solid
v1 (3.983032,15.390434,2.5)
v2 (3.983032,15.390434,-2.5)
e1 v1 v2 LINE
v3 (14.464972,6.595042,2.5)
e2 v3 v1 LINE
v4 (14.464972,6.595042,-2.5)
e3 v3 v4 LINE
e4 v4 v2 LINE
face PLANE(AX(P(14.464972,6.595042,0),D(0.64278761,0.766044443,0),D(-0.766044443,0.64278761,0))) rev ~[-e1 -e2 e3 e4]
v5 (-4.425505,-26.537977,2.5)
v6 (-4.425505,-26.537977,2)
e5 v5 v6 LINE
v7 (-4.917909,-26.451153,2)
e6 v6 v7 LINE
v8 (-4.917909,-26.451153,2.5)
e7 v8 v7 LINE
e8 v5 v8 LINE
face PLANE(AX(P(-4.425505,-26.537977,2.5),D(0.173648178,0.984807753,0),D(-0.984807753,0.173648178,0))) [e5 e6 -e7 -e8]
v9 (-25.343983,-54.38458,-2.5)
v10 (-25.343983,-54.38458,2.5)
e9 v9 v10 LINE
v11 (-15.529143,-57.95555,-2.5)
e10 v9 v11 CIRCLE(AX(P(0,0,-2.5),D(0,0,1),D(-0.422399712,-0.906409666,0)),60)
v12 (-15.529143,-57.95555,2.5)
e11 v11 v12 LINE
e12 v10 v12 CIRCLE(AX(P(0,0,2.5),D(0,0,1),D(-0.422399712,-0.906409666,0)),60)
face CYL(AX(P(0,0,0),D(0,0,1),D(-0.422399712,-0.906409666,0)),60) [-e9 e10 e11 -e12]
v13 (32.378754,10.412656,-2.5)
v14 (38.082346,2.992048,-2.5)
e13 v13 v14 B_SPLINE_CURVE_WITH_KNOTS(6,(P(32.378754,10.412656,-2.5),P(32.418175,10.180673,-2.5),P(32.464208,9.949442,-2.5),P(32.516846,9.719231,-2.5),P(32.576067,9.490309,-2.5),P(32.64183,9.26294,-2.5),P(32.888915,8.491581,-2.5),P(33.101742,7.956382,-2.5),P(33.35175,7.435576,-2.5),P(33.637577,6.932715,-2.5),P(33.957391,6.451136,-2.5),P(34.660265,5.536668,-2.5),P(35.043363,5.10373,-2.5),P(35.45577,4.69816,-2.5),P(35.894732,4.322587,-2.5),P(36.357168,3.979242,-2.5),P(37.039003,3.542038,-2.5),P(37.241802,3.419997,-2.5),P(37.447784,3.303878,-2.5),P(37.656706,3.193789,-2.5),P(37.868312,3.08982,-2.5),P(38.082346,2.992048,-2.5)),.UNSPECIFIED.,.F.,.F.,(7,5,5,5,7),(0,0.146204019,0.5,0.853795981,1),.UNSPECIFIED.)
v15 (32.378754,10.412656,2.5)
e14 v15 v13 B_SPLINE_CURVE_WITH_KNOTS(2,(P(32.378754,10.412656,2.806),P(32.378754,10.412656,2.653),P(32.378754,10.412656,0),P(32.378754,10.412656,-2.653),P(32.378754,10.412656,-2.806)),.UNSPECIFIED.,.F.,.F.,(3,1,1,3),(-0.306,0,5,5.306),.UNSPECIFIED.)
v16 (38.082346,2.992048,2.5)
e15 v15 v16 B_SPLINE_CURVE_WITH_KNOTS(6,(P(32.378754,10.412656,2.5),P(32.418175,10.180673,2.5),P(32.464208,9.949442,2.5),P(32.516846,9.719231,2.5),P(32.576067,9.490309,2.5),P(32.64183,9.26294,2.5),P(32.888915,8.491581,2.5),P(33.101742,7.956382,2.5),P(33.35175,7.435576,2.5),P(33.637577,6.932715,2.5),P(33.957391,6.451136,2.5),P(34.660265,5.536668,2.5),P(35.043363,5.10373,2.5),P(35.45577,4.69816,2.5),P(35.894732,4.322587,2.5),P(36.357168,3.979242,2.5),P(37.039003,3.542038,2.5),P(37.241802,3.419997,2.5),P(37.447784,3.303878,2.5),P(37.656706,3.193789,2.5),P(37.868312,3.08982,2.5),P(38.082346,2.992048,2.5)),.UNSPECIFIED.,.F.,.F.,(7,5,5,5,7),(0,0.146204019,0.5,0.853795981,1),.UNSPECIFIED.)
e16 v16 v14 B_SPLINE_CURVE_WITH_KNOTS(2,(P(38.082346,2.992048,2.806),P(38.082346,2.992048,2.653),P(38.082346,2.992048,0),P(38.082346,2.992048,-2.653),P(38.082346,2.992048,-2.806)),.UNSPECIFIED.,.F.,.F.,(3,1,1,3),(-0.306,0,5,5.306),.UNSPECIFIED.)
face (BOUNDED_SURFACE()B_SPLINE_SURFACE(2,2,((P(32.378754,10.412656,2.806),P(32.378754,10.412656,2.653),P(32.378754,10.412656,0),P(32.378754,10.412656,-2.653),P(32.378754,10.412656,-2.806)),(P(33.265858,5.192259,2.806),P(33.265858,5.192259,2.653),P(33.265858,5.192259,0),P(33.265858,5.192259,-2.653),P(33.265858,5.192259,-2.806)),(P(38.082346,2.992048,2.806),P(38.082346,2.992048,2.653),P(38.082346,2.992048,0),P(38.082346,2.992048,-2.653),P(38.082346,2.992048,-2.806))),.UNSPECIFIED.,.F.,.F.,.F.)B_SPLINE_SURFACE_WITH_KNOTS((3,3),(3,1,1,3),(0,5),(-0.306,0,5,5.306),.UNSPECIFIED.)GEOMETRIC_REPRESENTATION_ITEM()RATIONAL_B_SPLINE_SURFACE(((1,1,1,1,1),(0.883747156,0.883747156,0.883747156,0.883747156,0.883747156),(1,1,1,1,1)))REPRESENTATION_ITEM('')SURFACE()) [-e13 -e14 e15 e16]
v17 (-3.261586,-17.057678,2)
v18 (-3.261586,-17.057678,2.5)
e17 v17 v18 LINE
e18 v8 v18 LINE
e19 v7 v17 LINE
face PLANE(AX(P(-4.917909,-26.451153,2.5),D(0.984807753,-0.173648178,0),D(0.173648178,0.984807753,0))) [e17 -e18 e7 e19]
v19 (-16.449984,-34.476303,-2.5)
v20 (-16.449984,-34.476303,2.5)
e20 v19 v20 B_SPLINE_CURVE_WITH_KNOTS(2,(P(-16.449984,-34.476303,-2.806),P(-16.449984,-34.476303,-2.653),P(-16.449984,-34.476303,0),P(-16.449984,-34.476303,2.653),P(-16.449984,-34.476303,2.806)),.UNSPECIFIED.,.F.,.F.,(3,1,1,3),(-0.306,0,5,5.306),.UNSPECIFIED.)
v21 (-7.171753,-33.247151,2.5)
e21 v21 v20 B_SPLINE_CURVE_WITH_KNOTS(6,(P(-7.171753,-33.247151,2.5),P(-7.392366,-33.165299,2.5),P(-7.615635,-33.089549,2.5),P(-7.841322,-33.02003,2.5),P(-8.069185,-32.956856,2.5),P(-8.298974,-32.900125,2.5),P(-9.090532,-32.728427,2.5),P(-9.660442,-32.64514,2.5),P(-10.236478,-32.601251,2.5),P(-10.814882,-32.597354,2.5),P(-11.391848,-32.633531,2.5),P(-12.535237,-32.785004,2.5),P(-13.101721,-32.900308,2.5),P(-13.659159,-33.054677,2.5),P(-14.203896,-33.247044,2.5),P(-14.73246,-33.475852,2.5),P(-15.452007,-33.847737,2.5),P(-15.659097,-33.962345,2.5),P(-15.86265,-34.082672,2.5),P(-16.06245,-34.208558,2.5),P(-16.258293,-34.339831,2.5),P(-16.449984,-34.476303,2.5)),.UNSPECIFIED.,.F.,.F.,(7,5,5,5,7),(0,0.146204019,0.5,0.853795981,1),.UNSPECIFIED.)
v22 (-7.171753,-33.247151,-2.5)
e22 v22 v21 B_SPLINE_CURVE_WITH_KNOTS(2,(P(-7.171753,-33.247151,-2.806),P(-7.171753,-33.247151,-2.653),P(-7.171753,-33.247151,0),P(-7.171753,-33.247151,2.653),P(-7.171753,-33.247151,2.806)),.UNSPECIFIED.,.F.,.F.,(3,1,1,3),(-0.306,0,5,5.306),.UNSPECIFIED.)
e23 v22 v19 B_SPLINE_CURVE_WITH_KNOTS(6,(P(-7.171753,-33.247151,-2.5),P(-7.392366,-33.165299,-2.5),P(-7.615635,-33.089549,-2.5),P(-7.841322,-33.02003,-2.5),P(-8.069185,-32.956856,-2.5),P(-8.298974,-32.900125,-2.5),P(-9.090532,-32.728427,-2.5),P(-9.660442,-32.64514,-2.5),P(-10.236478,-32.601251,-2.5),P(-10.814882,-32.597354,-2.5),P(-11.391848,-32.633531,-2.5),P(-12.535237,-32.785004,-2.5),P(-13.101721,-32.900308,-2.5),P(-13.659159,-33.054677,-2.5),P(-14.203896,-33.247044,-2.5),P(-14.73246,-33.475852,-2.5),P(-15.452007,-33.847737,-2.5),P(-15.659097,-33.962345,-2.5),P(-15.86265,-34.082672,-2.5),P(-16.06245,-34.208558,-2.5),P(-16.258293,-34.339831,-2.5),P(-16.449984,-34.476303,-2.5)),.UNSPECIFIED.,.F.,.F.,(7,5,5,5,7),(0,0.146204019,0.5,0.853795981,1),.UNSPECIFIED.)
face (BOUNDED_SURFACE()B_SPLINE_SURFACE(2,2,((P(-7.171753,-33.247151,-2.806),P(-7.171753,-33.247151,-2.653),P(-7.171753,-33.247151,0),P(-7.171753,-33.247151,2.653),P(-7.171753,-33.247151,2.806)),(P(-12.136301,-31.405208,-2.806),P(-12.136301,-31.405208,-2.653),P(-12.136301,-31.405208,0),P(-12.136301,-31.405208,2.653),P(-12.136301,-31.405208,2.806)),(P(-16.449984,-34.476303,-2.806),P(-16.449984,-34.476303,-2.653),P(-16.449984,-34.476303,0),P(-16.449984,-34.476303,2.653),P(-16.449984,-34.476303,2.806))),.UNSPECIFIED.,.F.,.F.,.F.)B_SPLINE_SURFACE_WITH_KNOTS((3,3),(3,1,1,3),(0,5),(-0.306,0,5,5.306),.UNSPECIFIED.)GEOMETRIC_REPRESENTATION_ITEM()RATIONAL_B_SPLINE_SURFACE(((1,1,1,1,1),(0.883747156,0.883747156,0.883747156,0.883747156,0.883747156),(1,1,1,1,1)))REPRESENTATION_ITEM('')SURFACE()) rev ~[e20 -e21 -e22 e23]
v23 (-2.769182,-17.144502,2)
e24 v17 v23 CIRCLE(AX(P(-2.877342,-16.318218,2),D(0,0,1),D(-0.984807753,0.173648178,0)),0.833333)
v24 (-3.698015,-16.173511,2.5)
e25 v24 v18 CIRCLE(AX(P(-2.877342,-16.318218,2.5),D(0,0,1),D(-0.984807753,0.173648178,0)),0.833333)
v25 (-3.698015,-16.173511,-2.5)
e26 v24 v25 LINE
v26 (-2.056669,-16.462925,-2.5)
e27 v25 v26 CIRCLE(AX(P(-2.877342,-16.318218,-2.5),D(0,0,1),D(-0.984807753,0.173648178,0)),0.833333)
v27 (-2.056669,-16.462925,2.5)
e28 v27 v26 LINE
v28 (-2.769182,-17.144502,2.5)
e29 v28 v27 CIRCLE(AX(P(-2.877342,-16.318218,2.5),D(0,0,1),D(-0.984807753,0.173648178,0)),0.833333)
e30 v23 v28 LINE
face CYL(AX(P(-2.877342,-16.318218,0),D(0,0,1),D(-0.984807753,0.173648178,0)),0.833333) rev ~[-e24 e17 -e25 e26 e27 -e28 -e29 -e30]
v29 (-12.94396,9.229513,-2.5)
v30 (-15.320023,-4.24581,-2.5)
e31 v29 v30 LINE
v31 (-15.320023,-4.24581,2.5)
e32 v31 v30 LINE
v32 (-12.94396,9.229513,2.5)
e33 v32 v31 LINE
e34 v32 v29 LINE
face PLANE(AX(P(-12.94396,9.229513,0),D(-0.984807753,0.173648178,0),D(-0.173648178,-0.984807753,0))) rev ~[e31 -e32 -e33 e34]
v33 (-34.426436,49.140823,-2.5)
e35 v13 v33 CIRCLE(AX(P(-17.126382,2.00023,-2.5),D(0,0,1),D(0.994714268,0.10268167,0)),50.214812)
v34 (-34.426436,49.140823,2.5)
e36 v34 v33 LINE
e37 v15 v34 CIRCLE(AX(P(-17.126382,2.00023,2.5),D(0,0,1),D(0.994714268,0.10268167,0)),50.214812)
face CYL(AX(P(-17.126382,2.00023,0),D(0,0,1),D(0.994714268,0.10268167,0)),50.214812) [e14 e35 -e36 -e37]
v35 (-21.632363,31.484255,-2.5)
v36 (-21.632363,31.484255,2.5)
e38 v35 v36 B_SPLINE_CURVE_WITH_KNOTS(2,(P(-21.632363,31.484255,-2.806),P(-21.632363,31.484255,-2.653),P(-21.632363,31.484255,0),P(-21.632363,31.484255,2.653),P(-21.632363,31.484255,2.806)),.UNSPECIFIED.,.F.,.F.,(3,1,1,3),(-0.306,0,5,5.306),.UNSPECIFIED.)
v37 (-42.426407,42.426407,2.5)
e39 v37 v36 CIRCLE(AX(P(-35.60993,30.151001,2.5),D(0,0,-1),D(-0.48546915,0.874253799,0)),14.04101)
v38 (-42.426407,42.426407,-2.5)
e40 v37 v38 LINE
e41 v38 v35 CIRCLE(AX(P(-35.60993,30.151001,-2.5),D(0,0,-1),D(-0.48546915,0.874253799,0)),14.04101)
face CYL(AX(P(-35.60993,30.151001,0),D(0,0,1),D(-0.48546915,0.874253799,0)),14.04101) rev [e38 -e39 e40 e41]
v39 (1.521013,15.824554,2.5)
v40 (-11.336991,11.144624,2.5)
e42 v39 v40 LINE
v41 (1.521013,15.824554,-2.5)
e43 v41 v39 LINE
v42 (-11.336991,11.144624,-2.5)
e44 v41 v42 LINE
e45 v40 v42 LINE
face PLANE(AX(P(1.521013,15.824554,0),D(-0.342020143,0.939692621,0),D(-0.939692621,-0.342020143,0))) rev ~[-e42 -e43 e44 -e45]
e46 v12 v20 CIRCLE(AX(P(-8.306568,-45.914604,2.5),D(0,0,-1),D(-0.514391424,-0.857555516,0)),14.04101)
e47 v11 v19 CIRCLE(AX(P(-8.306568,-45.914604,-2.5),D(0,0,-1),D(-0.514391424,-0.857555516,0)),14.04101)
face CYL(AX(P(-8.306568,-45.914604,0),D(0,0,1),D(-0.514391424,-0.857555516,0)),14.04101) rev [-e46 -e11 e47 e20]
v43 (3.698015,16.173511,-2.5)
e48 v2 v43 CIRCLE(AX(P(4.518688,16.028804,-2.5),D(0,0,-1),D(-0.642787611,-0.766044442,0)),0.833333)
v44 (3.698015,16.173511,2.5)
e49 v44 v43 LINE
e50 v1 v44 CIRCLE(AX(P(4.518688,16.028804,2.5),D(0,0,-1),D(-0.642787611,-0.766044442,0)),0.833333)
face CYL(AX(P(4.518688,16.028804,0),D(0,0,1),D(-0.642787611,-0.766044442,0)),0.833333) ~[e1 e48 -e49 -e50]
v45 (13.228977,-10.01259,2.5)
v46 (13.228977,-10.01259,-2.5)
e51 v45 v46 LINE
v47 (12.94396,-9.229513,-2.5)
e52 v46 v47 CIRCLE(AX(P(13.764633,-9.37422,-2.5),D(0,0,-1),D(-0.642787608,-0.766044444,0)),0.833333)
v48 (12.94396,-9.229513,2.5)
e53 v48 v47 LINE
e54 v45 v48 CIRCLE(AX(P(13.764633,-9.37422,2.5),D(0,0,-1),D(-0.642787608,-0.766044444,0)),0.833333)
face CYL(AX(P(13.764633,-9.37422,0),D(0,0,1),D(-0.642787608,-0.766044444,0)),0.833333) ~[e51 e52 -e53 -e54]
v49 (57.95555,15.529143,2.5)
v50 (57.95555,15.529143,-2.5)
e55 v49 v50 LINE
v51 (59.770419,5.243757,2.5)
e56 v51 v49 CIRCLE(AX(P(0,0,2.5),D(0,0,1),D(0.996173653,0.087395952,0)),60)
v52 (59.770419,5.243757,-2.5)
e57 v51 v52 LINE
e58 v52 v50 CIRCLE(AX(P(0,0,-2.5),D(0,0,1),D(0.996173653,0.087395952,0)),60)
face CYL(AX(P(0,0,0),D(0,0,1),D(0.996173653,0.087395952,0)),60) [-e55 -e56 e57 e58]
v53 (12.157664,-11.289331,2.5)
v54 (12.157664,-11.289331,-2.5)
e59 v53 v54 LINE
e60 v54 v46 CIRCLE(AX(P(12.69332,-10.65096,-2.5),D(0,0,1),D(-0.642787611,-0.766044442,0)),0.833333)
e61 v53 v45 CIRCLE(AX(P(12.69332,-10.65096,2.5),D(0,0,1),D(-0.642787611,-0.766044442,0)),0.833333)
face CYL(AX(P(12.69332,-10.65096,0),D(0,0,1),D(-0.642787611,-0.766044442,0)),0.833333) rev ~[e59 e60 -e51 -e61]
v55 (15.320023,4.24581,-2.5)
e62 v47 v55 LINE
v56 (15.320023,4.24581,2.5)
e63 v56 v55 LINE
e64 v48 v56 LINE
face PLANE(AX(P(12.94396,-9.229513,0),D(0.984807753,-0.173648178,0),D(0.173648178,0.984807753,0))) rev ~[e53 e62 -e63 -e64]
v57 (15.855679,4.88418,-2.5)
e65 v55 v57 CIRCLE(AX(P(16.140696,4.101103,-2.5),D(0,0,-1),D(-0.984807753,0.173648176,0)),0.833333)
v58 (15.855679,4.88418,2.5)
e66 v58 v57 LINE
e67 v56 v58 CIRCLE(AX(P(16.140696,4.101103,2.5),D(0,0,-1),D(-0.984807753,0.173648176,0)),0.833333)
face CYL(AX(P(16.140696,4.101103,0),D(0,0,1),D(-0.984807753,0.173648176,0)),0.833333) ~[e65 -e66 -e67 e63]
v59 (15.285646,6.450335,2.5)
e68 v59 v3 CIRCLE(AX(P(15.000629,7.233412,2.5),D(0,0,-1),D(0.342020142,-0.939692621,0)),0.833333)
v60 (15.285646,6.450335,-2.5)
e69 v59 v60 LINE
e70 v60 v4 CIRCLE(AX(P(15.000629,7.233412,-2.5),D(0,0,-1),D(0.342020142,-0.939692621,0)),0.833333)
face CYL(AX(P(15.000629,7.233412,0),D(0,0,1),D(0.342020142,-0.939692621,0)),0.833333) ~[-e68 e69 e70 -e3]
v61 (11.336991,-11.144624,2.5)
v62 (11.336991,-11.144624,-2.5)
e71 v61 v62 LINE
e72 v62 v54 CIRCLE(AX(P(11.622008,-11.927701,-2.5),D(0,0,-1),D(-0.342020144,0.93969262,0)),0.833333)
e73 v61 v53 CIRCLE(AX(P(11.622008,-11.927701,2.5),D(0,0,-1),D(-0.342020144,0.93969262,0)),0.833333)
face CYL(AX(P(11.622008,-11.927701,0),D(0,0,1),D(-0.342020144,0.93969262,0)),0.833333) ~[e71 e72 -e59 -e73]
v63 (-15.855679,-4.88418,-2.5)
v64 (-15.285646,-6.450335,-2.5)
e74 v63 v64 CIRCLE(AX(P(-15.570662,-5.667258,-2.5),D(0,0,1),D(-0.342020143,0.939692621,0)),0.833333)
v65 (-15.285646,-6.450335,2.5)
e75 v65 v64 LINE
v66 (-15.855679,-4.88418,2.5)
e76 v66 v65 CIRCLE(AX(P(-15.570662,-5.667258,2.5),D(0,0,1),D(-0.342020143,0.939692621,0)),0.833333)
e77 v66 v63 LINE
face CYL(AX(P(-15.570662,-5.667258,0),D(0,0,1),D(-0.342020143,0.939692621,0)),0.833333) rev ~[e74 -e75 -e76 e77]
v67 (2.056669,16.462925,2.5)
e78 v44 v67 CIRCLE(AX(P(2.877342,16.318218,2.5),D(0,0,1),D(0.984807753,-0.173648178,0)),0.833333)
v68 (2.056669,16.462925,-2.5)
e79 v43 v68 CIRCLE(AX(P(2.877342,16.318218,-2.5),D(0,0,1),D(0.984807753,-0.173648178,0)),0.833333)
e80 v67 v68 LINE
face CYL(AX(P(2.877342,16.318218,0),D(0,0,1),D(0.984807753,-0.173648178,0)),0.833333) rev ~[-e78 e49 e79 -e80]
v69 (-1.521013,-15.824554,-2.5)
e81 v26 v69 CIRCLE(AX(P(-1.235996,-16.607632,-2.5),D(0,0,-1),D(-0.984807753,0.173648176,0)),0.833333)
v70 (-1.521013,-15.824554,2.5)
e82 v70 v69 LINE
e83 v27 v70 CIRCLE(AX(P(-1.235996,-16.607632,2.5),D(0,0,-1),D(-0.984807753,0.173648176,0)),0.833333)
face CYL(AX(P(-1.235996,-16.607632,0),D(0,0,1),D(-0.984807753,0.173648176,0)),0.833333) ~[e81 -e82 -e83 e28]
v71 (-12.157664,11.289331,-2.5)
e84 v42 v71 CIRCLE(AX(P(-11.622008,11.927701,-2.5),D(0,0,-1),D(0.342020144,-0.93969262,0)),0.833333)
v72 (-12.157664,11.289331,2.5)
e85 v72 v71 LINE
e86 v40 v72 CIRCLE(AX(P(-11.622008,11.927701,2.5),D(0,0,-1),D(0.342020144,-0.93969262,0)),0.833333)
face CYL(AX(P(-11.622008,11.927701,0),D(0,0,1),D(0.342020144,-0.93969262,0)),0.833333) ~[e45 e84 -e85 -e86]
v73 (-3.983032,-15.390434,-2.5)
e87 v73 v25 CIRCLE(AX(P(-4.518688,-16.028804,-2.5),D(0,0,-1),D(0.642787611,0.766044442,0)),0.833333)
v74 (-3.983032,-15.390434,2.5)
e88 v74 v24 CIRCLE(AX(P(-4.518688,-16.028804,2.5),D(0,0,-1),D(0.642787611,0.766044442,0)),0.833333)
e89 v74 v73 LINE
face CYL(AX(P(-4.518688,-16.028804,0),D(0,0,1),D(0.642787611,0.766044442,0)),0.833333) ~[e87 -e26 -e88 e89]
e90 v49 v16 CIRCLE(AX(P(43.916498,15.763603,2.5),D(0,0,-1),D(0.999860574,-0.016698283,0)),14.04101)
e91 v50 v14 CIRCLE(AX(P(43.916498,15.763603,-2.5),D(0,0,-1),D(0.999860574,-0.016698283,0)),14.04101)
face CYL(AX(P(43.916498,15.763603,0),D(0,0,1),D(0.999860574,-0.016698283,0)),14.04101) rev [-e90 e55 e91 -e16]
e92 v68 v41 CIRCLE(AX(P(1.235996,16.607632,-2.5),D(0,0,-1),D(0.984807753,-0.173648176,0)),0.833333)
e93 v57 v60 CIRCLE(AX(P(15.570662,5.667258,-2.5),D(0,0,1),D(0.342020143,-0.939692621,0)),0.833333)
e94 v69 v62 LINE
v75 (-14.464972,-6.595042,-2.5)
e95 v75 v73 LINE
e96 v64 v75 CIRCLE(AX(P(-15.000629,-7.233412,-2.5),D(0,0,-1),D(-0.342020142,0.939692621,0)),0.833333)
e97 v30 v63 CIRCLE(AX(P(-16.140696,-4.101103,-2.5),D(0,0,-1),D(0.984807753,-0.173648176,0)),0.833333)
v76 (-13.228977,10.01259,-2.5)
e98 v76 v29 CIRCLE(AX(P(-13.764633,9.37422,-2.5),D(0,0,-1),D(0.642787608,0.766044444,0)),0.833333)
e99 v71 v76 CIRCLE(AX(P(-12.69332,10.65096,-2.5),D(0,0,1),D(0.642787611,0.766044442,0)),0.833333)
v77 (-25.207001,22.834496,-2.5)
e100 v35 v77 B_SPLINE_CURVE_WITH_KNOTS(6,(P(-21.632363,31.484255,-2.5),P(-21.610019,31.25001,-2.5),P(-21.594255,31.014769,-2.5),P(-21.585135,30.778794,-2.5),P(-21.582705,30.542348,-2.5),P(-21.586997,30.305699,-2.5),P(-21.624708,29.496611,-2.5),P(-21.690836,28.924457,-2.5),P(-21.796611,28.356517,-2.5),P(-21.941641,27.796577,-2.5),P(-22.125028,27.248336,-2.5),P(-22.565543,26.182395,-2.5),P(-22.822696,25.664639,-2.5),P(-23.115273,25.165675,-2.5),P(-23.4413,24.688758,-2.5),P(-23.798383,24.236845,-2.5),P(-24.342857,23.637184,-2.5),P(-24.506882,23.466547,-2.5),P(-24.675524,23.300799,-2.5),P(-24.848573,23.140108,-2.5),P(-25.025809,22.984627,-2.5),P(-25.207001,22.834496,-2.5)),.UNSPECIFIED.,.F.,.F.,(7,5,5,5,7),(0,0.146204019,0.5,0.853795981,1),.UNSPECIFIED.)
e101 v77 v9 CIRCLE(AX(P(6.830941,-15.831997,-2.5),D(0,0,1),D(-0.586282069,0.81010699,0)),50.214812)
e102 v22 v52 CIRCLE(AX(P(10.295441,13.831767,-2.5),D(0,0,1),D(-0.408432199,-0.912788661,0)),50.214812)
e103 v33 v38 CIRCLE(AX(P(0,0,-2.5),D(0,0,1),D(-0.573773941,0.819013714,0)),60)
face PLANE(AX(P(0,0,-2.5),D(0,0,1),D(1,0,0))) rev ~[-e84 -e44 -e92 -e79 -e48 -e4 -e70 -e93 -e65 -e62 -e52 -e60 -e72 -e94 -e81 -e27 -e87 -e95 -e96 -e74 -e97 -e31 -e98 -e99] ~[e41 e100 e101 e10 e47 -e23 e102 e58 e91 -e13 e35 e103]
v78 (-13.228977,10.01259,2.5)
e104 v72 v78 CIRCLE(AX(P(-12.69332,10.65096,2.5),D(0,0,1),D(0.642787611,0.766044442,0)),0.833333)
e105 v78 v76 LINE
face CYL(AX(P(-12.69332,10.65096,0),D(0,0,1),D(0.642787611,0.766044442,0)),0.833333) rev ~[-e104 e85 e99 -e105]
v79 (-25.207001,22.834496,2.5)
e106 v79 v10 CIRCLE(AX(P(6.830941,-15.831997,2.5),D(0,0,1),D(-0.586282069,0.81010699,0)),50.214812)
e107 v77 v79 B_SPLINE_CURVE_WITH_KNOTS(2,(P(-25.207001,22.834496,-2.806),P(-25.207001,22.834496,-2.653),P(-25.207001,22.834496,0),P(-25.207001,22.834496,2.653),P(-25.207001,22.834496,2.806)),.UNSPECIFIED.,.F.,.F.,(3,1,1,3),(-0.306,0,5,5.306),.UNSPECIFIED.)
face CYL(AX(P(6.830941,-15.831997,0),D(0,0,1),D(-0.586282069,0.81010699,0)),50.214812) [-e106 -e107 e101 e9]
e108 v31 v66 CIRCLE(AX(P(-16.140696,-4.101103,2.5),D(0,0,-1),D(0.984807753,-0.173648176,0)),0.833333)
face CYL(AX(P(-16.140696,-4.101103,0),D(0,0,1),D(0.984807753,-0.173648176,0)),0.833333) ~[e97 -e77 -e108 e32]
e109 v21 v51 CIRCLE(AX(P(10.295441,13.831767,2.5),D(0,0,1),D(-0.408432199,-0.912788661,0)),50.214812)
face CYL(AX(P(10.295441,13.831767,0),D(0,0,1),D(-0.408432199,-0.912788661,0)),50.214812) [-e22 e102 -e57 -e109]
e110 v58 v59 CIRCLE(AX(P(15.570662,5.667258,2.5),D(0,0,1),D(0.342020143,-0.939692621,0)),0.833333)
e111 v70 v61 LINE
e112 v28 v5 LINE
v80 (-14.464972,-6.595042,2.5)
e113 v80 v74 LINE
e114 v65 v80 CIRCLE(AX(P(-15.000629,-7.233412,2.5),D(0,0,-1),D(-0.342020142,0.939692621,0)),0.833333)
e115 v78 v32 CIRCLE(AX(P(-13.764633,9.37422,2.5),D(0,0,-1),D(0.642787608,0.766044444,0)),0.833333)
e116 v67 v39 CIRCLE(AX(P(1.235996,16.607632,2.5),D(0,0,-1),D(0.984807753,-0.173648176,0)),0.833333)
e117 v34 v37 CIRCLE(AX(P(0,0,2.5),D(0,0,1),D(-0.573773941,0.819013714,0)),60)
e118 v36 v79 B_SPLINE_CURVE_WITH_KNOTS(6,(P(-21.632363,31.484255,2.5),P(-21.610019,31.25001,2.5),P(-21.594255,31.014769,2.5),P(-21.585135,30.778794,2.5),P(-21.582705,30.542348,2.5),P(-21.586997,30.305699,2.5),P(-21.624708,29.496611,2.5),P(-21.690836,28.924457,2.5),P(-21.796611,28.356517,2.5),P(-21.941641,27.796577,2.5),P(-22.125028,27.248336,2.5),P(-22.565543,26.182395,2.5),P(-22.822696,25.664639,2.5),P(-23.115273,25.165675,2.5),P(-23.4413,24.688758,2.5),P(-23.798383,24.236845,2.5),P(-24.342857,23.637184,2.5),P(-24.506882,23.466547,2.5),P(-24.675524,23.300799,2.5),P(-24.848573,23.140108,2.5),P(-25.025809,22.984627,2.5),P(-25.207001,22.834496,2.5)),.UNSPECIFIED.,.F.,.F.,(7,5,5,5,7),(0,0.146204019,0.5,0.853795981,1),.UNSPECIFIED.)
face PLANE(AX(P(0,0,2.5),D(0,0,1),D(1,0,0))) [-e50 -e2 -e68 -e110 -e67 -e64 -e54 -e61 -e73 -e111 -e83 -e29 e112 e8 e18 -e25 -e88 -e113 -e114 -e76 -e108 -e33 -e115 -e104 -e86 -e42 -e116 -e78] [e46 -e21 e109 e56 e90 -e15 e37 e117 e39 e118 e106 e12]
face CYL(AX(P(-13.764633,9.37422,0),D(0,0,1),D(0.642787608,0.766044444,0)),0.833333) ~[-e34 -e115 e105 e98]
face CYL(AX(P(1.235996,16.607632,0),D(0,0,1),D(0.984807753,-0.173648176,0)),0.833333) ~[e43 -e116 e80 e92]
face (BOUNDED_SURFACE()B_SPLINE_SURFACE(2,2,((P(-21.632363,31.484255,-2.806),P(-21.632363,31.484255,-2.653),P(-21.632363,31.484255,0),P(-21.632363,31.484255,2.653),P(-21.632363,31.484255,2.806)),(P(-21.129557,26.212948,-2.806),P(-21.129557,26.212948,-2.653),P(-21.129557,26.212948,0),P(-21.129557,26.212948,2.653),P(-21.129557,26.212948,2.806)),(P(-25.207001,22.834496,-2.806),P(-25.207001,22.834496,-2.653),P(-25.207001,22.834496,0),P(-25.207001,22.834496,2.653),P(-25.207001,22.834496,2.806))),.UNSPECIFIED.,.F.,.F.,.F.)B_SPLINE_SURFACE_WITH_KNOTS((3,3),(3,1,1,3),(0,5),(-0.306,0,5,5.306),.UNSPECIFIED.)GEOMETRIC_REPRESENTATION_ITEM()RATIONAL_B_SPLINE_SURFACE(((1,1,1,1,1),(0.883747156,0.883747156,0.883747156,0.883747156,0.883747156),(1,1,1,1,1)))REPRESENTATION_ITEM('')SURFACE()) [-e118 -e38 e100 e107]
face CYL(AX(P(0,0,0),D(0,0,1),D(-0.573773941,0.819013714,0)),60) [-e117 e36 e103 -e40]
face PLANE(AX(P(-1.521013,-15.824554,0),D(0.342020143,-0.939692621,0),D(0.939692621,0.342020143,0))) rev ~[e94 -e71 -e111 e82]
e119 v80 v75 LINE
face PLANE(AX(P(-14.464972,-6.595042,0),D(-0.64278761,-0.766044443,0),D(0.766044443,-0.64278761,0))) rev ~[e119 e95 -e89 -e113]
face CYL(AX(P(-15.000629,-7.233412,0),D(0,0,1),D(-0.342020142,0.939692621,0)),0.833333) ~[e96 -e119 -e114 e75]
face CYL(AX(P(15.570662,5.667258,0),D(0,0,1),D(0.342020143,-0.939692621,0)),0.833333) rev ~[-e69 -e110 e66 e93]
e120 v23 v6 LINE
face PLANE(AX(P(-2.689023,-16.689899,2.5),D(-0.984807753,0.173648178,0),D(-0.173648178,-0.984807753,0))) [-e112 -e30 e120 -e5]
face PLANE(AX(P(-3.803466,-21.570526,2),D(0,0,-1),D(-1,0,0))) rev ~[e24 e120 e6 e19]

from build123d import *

# Parameters (mm, degrees)
BOSS_EXTRUDE1_DEPTH = 2.5
FILLET1_R           = 10
CUT_EXTRUDE1_DEPTH  = 0.5


with BuildPart() as part:
    # Sketch1 → Boss-Extrude1 (new, symmetric)
    with BuildSketch(Plane.XY):
        with BuildLine():
            ThreePointArc((-42.426406871, 42.426406871), (-26.29235792, 40.654943242), (-22.609103215, 24.847373735))
            ThreePointArc((-22.609103215, 24.847373735), (-43.353983992, -14.099744614), (-25.343982725, -54.38457998))
            ThreePointArc((-25.343982725, -54.38457998), (-20.514410827, -56.38403097), (-15.529142706, -57.955549577))
            ThreePointArc((-15.529142706, -57.955549577), (-22.062034677, -43.097321505), (-10.213905264, -32.003744609))
            ThreePointArc((-10.213905264, -32.003744609), (33.887729018, -30.495779185), (59.7704192, 5.243757117))
            ThreePointArc((59.7704192, 5.243757117), (59.087208601, 10.426014565), (57.955549577, 15.529142706))
            ThreePointArc((57.955549577, 15.529142706), (48.354392597, 2.442378263), (32.82300848, 7.156370874))
            ThreePointArc((32.82300848, 7.156370874), (9.466254973, 44.595523799), (-34.426436475, 49.140822863))
            ThreePointArc((-34.426436475, 49.140822863), (-38.572797774, 45.958016405), (-42.426406871, 42.426406871))
        make_face()
        with BuildLine():
            Line((1.521012626, 15.824554357), (-11.336990739, 11.14462386))
            ThreePointArc((-11.336990739, 11.14462386), (-11.76671434, 11.107027916), (-12.157663867, 11.289330674))
            ThreePointArc((-12.157663867, 11.289330674), (-13.331690578, 11.186616647), (-13.22897655, 10.012589936))
            ThreePointArc((-13.22897655, 10.012589936), (-12.981555707, 9.659236353), (-12.943959764, 9.229512752))
            Line((-12.943959764, 9.229512752), (-15.320022748, -4.245810053))
            ThreePointArc((-15.320022748, -4.245810053), (-15.502325506, -4.63675958), (-15.855679089, -4.884180422))
            ThreePointArc((-15.855679089, -4.884180422), (-16.353739487, -5.952274392), (-15.285645517, -6.45033479))
            ThreePointArc((-15.285645517, -6.45033479), (-14.855921916, -6.412738847), (-14.46497239, -6.595041605))
            Line((-14.46497239, -6.595041605), (-3.983032008, -15.390433913))
            ThreePointArc((-3.983032008, -15.390433913), (-3.735611166, -15.743787496), (-3.698015222, -16.173511097))
            ThreePointArc((-3.698015222, -16.173511097), (-3.02204891, -17.138891039), (-2.056668967, -16.462924726))
            ThreePointArc((-2.056668967, -16.462924726), (-1.874366209, -16.071975199), (-1.521012626, -15.824554357))
            Line((-1.521012626, -15.824554357), (11.336990739, -11.14462386))
            ThreePointArc((11.336990739, -11.14462386), (11.76671434, -11.107027916), (12.157663867, -11.289330674))
            ThreePointArc((12.157663867, -11.289330674), (13.331690578, -11.186616647), (13.22897655, -10.012589936))
            ThreePointArc((13.22897655, -10.012589936), (12.981555707, -9.659236353), (12.943959764, -9.229512752))
            Line((12.943959764, -9.229512752), (15.320022748, 4.245810053))
            ThreePointArc((15.320022748, 4.245810053), (15.502325506, 4.63675958), (15.855679089, 4.884180422))
            ThreePointArc((15.855679089, 4.884180422), (16.353739487, 5.952274392), (15.285645517, 6.45033479))
            ThreePointArc((15.285645517, 6.45033479), (14.855921916, 6.412738847), (14.46497239, 6.595041605))
            Line((14.46497239, 6.595041605), (3.983032008, 15.390433913))
            ThreePointArc((3.983032008, 15.390433913), (3.735611166, 15.743787496), (3.698015222, 16.173511097))
            ThreePointArc((3.698015222, 16.173511097), (3.02204891, 17.138891039), (2.056668967, 16.462924726))
            ThreePointArc((2.056668967, 16.462924726), (1.874366209, 16.071975199), (1.521012626, 15.824554357))
        make_face(mode=Mode.SUBTRACT)
    extrude(amount=BOSS_EXTRUDE1_DEPTH, both=True)

    # Fillet1
    fillet1_edges = [part.edges().sort_by_distance(p)[0] for p in [
        (32.82300848, 7.156370874, 0),
        (-10.213905264, -32.003744609, 0),
        (-22.609103215, 24.847373735, 0),
    ]]
    fillet(fillet1_edges, radius=FILLET1_R)

    # Sketch2 → Cut-Extrude1 (cut)
    with BuildSketch(Plane.XY.offset(2.5)):
        Polygon((-3.181426759, -16.603075118), (-2.689022882, -16.689899207), (-4.425504659, -26.537976737), (-4.917908536, -26.451152648), align=None)
    extrude(amount=-CUT_EXTRUDE1_DEPTH, mode=Mode.SUBTRACT)


solid = part.part
